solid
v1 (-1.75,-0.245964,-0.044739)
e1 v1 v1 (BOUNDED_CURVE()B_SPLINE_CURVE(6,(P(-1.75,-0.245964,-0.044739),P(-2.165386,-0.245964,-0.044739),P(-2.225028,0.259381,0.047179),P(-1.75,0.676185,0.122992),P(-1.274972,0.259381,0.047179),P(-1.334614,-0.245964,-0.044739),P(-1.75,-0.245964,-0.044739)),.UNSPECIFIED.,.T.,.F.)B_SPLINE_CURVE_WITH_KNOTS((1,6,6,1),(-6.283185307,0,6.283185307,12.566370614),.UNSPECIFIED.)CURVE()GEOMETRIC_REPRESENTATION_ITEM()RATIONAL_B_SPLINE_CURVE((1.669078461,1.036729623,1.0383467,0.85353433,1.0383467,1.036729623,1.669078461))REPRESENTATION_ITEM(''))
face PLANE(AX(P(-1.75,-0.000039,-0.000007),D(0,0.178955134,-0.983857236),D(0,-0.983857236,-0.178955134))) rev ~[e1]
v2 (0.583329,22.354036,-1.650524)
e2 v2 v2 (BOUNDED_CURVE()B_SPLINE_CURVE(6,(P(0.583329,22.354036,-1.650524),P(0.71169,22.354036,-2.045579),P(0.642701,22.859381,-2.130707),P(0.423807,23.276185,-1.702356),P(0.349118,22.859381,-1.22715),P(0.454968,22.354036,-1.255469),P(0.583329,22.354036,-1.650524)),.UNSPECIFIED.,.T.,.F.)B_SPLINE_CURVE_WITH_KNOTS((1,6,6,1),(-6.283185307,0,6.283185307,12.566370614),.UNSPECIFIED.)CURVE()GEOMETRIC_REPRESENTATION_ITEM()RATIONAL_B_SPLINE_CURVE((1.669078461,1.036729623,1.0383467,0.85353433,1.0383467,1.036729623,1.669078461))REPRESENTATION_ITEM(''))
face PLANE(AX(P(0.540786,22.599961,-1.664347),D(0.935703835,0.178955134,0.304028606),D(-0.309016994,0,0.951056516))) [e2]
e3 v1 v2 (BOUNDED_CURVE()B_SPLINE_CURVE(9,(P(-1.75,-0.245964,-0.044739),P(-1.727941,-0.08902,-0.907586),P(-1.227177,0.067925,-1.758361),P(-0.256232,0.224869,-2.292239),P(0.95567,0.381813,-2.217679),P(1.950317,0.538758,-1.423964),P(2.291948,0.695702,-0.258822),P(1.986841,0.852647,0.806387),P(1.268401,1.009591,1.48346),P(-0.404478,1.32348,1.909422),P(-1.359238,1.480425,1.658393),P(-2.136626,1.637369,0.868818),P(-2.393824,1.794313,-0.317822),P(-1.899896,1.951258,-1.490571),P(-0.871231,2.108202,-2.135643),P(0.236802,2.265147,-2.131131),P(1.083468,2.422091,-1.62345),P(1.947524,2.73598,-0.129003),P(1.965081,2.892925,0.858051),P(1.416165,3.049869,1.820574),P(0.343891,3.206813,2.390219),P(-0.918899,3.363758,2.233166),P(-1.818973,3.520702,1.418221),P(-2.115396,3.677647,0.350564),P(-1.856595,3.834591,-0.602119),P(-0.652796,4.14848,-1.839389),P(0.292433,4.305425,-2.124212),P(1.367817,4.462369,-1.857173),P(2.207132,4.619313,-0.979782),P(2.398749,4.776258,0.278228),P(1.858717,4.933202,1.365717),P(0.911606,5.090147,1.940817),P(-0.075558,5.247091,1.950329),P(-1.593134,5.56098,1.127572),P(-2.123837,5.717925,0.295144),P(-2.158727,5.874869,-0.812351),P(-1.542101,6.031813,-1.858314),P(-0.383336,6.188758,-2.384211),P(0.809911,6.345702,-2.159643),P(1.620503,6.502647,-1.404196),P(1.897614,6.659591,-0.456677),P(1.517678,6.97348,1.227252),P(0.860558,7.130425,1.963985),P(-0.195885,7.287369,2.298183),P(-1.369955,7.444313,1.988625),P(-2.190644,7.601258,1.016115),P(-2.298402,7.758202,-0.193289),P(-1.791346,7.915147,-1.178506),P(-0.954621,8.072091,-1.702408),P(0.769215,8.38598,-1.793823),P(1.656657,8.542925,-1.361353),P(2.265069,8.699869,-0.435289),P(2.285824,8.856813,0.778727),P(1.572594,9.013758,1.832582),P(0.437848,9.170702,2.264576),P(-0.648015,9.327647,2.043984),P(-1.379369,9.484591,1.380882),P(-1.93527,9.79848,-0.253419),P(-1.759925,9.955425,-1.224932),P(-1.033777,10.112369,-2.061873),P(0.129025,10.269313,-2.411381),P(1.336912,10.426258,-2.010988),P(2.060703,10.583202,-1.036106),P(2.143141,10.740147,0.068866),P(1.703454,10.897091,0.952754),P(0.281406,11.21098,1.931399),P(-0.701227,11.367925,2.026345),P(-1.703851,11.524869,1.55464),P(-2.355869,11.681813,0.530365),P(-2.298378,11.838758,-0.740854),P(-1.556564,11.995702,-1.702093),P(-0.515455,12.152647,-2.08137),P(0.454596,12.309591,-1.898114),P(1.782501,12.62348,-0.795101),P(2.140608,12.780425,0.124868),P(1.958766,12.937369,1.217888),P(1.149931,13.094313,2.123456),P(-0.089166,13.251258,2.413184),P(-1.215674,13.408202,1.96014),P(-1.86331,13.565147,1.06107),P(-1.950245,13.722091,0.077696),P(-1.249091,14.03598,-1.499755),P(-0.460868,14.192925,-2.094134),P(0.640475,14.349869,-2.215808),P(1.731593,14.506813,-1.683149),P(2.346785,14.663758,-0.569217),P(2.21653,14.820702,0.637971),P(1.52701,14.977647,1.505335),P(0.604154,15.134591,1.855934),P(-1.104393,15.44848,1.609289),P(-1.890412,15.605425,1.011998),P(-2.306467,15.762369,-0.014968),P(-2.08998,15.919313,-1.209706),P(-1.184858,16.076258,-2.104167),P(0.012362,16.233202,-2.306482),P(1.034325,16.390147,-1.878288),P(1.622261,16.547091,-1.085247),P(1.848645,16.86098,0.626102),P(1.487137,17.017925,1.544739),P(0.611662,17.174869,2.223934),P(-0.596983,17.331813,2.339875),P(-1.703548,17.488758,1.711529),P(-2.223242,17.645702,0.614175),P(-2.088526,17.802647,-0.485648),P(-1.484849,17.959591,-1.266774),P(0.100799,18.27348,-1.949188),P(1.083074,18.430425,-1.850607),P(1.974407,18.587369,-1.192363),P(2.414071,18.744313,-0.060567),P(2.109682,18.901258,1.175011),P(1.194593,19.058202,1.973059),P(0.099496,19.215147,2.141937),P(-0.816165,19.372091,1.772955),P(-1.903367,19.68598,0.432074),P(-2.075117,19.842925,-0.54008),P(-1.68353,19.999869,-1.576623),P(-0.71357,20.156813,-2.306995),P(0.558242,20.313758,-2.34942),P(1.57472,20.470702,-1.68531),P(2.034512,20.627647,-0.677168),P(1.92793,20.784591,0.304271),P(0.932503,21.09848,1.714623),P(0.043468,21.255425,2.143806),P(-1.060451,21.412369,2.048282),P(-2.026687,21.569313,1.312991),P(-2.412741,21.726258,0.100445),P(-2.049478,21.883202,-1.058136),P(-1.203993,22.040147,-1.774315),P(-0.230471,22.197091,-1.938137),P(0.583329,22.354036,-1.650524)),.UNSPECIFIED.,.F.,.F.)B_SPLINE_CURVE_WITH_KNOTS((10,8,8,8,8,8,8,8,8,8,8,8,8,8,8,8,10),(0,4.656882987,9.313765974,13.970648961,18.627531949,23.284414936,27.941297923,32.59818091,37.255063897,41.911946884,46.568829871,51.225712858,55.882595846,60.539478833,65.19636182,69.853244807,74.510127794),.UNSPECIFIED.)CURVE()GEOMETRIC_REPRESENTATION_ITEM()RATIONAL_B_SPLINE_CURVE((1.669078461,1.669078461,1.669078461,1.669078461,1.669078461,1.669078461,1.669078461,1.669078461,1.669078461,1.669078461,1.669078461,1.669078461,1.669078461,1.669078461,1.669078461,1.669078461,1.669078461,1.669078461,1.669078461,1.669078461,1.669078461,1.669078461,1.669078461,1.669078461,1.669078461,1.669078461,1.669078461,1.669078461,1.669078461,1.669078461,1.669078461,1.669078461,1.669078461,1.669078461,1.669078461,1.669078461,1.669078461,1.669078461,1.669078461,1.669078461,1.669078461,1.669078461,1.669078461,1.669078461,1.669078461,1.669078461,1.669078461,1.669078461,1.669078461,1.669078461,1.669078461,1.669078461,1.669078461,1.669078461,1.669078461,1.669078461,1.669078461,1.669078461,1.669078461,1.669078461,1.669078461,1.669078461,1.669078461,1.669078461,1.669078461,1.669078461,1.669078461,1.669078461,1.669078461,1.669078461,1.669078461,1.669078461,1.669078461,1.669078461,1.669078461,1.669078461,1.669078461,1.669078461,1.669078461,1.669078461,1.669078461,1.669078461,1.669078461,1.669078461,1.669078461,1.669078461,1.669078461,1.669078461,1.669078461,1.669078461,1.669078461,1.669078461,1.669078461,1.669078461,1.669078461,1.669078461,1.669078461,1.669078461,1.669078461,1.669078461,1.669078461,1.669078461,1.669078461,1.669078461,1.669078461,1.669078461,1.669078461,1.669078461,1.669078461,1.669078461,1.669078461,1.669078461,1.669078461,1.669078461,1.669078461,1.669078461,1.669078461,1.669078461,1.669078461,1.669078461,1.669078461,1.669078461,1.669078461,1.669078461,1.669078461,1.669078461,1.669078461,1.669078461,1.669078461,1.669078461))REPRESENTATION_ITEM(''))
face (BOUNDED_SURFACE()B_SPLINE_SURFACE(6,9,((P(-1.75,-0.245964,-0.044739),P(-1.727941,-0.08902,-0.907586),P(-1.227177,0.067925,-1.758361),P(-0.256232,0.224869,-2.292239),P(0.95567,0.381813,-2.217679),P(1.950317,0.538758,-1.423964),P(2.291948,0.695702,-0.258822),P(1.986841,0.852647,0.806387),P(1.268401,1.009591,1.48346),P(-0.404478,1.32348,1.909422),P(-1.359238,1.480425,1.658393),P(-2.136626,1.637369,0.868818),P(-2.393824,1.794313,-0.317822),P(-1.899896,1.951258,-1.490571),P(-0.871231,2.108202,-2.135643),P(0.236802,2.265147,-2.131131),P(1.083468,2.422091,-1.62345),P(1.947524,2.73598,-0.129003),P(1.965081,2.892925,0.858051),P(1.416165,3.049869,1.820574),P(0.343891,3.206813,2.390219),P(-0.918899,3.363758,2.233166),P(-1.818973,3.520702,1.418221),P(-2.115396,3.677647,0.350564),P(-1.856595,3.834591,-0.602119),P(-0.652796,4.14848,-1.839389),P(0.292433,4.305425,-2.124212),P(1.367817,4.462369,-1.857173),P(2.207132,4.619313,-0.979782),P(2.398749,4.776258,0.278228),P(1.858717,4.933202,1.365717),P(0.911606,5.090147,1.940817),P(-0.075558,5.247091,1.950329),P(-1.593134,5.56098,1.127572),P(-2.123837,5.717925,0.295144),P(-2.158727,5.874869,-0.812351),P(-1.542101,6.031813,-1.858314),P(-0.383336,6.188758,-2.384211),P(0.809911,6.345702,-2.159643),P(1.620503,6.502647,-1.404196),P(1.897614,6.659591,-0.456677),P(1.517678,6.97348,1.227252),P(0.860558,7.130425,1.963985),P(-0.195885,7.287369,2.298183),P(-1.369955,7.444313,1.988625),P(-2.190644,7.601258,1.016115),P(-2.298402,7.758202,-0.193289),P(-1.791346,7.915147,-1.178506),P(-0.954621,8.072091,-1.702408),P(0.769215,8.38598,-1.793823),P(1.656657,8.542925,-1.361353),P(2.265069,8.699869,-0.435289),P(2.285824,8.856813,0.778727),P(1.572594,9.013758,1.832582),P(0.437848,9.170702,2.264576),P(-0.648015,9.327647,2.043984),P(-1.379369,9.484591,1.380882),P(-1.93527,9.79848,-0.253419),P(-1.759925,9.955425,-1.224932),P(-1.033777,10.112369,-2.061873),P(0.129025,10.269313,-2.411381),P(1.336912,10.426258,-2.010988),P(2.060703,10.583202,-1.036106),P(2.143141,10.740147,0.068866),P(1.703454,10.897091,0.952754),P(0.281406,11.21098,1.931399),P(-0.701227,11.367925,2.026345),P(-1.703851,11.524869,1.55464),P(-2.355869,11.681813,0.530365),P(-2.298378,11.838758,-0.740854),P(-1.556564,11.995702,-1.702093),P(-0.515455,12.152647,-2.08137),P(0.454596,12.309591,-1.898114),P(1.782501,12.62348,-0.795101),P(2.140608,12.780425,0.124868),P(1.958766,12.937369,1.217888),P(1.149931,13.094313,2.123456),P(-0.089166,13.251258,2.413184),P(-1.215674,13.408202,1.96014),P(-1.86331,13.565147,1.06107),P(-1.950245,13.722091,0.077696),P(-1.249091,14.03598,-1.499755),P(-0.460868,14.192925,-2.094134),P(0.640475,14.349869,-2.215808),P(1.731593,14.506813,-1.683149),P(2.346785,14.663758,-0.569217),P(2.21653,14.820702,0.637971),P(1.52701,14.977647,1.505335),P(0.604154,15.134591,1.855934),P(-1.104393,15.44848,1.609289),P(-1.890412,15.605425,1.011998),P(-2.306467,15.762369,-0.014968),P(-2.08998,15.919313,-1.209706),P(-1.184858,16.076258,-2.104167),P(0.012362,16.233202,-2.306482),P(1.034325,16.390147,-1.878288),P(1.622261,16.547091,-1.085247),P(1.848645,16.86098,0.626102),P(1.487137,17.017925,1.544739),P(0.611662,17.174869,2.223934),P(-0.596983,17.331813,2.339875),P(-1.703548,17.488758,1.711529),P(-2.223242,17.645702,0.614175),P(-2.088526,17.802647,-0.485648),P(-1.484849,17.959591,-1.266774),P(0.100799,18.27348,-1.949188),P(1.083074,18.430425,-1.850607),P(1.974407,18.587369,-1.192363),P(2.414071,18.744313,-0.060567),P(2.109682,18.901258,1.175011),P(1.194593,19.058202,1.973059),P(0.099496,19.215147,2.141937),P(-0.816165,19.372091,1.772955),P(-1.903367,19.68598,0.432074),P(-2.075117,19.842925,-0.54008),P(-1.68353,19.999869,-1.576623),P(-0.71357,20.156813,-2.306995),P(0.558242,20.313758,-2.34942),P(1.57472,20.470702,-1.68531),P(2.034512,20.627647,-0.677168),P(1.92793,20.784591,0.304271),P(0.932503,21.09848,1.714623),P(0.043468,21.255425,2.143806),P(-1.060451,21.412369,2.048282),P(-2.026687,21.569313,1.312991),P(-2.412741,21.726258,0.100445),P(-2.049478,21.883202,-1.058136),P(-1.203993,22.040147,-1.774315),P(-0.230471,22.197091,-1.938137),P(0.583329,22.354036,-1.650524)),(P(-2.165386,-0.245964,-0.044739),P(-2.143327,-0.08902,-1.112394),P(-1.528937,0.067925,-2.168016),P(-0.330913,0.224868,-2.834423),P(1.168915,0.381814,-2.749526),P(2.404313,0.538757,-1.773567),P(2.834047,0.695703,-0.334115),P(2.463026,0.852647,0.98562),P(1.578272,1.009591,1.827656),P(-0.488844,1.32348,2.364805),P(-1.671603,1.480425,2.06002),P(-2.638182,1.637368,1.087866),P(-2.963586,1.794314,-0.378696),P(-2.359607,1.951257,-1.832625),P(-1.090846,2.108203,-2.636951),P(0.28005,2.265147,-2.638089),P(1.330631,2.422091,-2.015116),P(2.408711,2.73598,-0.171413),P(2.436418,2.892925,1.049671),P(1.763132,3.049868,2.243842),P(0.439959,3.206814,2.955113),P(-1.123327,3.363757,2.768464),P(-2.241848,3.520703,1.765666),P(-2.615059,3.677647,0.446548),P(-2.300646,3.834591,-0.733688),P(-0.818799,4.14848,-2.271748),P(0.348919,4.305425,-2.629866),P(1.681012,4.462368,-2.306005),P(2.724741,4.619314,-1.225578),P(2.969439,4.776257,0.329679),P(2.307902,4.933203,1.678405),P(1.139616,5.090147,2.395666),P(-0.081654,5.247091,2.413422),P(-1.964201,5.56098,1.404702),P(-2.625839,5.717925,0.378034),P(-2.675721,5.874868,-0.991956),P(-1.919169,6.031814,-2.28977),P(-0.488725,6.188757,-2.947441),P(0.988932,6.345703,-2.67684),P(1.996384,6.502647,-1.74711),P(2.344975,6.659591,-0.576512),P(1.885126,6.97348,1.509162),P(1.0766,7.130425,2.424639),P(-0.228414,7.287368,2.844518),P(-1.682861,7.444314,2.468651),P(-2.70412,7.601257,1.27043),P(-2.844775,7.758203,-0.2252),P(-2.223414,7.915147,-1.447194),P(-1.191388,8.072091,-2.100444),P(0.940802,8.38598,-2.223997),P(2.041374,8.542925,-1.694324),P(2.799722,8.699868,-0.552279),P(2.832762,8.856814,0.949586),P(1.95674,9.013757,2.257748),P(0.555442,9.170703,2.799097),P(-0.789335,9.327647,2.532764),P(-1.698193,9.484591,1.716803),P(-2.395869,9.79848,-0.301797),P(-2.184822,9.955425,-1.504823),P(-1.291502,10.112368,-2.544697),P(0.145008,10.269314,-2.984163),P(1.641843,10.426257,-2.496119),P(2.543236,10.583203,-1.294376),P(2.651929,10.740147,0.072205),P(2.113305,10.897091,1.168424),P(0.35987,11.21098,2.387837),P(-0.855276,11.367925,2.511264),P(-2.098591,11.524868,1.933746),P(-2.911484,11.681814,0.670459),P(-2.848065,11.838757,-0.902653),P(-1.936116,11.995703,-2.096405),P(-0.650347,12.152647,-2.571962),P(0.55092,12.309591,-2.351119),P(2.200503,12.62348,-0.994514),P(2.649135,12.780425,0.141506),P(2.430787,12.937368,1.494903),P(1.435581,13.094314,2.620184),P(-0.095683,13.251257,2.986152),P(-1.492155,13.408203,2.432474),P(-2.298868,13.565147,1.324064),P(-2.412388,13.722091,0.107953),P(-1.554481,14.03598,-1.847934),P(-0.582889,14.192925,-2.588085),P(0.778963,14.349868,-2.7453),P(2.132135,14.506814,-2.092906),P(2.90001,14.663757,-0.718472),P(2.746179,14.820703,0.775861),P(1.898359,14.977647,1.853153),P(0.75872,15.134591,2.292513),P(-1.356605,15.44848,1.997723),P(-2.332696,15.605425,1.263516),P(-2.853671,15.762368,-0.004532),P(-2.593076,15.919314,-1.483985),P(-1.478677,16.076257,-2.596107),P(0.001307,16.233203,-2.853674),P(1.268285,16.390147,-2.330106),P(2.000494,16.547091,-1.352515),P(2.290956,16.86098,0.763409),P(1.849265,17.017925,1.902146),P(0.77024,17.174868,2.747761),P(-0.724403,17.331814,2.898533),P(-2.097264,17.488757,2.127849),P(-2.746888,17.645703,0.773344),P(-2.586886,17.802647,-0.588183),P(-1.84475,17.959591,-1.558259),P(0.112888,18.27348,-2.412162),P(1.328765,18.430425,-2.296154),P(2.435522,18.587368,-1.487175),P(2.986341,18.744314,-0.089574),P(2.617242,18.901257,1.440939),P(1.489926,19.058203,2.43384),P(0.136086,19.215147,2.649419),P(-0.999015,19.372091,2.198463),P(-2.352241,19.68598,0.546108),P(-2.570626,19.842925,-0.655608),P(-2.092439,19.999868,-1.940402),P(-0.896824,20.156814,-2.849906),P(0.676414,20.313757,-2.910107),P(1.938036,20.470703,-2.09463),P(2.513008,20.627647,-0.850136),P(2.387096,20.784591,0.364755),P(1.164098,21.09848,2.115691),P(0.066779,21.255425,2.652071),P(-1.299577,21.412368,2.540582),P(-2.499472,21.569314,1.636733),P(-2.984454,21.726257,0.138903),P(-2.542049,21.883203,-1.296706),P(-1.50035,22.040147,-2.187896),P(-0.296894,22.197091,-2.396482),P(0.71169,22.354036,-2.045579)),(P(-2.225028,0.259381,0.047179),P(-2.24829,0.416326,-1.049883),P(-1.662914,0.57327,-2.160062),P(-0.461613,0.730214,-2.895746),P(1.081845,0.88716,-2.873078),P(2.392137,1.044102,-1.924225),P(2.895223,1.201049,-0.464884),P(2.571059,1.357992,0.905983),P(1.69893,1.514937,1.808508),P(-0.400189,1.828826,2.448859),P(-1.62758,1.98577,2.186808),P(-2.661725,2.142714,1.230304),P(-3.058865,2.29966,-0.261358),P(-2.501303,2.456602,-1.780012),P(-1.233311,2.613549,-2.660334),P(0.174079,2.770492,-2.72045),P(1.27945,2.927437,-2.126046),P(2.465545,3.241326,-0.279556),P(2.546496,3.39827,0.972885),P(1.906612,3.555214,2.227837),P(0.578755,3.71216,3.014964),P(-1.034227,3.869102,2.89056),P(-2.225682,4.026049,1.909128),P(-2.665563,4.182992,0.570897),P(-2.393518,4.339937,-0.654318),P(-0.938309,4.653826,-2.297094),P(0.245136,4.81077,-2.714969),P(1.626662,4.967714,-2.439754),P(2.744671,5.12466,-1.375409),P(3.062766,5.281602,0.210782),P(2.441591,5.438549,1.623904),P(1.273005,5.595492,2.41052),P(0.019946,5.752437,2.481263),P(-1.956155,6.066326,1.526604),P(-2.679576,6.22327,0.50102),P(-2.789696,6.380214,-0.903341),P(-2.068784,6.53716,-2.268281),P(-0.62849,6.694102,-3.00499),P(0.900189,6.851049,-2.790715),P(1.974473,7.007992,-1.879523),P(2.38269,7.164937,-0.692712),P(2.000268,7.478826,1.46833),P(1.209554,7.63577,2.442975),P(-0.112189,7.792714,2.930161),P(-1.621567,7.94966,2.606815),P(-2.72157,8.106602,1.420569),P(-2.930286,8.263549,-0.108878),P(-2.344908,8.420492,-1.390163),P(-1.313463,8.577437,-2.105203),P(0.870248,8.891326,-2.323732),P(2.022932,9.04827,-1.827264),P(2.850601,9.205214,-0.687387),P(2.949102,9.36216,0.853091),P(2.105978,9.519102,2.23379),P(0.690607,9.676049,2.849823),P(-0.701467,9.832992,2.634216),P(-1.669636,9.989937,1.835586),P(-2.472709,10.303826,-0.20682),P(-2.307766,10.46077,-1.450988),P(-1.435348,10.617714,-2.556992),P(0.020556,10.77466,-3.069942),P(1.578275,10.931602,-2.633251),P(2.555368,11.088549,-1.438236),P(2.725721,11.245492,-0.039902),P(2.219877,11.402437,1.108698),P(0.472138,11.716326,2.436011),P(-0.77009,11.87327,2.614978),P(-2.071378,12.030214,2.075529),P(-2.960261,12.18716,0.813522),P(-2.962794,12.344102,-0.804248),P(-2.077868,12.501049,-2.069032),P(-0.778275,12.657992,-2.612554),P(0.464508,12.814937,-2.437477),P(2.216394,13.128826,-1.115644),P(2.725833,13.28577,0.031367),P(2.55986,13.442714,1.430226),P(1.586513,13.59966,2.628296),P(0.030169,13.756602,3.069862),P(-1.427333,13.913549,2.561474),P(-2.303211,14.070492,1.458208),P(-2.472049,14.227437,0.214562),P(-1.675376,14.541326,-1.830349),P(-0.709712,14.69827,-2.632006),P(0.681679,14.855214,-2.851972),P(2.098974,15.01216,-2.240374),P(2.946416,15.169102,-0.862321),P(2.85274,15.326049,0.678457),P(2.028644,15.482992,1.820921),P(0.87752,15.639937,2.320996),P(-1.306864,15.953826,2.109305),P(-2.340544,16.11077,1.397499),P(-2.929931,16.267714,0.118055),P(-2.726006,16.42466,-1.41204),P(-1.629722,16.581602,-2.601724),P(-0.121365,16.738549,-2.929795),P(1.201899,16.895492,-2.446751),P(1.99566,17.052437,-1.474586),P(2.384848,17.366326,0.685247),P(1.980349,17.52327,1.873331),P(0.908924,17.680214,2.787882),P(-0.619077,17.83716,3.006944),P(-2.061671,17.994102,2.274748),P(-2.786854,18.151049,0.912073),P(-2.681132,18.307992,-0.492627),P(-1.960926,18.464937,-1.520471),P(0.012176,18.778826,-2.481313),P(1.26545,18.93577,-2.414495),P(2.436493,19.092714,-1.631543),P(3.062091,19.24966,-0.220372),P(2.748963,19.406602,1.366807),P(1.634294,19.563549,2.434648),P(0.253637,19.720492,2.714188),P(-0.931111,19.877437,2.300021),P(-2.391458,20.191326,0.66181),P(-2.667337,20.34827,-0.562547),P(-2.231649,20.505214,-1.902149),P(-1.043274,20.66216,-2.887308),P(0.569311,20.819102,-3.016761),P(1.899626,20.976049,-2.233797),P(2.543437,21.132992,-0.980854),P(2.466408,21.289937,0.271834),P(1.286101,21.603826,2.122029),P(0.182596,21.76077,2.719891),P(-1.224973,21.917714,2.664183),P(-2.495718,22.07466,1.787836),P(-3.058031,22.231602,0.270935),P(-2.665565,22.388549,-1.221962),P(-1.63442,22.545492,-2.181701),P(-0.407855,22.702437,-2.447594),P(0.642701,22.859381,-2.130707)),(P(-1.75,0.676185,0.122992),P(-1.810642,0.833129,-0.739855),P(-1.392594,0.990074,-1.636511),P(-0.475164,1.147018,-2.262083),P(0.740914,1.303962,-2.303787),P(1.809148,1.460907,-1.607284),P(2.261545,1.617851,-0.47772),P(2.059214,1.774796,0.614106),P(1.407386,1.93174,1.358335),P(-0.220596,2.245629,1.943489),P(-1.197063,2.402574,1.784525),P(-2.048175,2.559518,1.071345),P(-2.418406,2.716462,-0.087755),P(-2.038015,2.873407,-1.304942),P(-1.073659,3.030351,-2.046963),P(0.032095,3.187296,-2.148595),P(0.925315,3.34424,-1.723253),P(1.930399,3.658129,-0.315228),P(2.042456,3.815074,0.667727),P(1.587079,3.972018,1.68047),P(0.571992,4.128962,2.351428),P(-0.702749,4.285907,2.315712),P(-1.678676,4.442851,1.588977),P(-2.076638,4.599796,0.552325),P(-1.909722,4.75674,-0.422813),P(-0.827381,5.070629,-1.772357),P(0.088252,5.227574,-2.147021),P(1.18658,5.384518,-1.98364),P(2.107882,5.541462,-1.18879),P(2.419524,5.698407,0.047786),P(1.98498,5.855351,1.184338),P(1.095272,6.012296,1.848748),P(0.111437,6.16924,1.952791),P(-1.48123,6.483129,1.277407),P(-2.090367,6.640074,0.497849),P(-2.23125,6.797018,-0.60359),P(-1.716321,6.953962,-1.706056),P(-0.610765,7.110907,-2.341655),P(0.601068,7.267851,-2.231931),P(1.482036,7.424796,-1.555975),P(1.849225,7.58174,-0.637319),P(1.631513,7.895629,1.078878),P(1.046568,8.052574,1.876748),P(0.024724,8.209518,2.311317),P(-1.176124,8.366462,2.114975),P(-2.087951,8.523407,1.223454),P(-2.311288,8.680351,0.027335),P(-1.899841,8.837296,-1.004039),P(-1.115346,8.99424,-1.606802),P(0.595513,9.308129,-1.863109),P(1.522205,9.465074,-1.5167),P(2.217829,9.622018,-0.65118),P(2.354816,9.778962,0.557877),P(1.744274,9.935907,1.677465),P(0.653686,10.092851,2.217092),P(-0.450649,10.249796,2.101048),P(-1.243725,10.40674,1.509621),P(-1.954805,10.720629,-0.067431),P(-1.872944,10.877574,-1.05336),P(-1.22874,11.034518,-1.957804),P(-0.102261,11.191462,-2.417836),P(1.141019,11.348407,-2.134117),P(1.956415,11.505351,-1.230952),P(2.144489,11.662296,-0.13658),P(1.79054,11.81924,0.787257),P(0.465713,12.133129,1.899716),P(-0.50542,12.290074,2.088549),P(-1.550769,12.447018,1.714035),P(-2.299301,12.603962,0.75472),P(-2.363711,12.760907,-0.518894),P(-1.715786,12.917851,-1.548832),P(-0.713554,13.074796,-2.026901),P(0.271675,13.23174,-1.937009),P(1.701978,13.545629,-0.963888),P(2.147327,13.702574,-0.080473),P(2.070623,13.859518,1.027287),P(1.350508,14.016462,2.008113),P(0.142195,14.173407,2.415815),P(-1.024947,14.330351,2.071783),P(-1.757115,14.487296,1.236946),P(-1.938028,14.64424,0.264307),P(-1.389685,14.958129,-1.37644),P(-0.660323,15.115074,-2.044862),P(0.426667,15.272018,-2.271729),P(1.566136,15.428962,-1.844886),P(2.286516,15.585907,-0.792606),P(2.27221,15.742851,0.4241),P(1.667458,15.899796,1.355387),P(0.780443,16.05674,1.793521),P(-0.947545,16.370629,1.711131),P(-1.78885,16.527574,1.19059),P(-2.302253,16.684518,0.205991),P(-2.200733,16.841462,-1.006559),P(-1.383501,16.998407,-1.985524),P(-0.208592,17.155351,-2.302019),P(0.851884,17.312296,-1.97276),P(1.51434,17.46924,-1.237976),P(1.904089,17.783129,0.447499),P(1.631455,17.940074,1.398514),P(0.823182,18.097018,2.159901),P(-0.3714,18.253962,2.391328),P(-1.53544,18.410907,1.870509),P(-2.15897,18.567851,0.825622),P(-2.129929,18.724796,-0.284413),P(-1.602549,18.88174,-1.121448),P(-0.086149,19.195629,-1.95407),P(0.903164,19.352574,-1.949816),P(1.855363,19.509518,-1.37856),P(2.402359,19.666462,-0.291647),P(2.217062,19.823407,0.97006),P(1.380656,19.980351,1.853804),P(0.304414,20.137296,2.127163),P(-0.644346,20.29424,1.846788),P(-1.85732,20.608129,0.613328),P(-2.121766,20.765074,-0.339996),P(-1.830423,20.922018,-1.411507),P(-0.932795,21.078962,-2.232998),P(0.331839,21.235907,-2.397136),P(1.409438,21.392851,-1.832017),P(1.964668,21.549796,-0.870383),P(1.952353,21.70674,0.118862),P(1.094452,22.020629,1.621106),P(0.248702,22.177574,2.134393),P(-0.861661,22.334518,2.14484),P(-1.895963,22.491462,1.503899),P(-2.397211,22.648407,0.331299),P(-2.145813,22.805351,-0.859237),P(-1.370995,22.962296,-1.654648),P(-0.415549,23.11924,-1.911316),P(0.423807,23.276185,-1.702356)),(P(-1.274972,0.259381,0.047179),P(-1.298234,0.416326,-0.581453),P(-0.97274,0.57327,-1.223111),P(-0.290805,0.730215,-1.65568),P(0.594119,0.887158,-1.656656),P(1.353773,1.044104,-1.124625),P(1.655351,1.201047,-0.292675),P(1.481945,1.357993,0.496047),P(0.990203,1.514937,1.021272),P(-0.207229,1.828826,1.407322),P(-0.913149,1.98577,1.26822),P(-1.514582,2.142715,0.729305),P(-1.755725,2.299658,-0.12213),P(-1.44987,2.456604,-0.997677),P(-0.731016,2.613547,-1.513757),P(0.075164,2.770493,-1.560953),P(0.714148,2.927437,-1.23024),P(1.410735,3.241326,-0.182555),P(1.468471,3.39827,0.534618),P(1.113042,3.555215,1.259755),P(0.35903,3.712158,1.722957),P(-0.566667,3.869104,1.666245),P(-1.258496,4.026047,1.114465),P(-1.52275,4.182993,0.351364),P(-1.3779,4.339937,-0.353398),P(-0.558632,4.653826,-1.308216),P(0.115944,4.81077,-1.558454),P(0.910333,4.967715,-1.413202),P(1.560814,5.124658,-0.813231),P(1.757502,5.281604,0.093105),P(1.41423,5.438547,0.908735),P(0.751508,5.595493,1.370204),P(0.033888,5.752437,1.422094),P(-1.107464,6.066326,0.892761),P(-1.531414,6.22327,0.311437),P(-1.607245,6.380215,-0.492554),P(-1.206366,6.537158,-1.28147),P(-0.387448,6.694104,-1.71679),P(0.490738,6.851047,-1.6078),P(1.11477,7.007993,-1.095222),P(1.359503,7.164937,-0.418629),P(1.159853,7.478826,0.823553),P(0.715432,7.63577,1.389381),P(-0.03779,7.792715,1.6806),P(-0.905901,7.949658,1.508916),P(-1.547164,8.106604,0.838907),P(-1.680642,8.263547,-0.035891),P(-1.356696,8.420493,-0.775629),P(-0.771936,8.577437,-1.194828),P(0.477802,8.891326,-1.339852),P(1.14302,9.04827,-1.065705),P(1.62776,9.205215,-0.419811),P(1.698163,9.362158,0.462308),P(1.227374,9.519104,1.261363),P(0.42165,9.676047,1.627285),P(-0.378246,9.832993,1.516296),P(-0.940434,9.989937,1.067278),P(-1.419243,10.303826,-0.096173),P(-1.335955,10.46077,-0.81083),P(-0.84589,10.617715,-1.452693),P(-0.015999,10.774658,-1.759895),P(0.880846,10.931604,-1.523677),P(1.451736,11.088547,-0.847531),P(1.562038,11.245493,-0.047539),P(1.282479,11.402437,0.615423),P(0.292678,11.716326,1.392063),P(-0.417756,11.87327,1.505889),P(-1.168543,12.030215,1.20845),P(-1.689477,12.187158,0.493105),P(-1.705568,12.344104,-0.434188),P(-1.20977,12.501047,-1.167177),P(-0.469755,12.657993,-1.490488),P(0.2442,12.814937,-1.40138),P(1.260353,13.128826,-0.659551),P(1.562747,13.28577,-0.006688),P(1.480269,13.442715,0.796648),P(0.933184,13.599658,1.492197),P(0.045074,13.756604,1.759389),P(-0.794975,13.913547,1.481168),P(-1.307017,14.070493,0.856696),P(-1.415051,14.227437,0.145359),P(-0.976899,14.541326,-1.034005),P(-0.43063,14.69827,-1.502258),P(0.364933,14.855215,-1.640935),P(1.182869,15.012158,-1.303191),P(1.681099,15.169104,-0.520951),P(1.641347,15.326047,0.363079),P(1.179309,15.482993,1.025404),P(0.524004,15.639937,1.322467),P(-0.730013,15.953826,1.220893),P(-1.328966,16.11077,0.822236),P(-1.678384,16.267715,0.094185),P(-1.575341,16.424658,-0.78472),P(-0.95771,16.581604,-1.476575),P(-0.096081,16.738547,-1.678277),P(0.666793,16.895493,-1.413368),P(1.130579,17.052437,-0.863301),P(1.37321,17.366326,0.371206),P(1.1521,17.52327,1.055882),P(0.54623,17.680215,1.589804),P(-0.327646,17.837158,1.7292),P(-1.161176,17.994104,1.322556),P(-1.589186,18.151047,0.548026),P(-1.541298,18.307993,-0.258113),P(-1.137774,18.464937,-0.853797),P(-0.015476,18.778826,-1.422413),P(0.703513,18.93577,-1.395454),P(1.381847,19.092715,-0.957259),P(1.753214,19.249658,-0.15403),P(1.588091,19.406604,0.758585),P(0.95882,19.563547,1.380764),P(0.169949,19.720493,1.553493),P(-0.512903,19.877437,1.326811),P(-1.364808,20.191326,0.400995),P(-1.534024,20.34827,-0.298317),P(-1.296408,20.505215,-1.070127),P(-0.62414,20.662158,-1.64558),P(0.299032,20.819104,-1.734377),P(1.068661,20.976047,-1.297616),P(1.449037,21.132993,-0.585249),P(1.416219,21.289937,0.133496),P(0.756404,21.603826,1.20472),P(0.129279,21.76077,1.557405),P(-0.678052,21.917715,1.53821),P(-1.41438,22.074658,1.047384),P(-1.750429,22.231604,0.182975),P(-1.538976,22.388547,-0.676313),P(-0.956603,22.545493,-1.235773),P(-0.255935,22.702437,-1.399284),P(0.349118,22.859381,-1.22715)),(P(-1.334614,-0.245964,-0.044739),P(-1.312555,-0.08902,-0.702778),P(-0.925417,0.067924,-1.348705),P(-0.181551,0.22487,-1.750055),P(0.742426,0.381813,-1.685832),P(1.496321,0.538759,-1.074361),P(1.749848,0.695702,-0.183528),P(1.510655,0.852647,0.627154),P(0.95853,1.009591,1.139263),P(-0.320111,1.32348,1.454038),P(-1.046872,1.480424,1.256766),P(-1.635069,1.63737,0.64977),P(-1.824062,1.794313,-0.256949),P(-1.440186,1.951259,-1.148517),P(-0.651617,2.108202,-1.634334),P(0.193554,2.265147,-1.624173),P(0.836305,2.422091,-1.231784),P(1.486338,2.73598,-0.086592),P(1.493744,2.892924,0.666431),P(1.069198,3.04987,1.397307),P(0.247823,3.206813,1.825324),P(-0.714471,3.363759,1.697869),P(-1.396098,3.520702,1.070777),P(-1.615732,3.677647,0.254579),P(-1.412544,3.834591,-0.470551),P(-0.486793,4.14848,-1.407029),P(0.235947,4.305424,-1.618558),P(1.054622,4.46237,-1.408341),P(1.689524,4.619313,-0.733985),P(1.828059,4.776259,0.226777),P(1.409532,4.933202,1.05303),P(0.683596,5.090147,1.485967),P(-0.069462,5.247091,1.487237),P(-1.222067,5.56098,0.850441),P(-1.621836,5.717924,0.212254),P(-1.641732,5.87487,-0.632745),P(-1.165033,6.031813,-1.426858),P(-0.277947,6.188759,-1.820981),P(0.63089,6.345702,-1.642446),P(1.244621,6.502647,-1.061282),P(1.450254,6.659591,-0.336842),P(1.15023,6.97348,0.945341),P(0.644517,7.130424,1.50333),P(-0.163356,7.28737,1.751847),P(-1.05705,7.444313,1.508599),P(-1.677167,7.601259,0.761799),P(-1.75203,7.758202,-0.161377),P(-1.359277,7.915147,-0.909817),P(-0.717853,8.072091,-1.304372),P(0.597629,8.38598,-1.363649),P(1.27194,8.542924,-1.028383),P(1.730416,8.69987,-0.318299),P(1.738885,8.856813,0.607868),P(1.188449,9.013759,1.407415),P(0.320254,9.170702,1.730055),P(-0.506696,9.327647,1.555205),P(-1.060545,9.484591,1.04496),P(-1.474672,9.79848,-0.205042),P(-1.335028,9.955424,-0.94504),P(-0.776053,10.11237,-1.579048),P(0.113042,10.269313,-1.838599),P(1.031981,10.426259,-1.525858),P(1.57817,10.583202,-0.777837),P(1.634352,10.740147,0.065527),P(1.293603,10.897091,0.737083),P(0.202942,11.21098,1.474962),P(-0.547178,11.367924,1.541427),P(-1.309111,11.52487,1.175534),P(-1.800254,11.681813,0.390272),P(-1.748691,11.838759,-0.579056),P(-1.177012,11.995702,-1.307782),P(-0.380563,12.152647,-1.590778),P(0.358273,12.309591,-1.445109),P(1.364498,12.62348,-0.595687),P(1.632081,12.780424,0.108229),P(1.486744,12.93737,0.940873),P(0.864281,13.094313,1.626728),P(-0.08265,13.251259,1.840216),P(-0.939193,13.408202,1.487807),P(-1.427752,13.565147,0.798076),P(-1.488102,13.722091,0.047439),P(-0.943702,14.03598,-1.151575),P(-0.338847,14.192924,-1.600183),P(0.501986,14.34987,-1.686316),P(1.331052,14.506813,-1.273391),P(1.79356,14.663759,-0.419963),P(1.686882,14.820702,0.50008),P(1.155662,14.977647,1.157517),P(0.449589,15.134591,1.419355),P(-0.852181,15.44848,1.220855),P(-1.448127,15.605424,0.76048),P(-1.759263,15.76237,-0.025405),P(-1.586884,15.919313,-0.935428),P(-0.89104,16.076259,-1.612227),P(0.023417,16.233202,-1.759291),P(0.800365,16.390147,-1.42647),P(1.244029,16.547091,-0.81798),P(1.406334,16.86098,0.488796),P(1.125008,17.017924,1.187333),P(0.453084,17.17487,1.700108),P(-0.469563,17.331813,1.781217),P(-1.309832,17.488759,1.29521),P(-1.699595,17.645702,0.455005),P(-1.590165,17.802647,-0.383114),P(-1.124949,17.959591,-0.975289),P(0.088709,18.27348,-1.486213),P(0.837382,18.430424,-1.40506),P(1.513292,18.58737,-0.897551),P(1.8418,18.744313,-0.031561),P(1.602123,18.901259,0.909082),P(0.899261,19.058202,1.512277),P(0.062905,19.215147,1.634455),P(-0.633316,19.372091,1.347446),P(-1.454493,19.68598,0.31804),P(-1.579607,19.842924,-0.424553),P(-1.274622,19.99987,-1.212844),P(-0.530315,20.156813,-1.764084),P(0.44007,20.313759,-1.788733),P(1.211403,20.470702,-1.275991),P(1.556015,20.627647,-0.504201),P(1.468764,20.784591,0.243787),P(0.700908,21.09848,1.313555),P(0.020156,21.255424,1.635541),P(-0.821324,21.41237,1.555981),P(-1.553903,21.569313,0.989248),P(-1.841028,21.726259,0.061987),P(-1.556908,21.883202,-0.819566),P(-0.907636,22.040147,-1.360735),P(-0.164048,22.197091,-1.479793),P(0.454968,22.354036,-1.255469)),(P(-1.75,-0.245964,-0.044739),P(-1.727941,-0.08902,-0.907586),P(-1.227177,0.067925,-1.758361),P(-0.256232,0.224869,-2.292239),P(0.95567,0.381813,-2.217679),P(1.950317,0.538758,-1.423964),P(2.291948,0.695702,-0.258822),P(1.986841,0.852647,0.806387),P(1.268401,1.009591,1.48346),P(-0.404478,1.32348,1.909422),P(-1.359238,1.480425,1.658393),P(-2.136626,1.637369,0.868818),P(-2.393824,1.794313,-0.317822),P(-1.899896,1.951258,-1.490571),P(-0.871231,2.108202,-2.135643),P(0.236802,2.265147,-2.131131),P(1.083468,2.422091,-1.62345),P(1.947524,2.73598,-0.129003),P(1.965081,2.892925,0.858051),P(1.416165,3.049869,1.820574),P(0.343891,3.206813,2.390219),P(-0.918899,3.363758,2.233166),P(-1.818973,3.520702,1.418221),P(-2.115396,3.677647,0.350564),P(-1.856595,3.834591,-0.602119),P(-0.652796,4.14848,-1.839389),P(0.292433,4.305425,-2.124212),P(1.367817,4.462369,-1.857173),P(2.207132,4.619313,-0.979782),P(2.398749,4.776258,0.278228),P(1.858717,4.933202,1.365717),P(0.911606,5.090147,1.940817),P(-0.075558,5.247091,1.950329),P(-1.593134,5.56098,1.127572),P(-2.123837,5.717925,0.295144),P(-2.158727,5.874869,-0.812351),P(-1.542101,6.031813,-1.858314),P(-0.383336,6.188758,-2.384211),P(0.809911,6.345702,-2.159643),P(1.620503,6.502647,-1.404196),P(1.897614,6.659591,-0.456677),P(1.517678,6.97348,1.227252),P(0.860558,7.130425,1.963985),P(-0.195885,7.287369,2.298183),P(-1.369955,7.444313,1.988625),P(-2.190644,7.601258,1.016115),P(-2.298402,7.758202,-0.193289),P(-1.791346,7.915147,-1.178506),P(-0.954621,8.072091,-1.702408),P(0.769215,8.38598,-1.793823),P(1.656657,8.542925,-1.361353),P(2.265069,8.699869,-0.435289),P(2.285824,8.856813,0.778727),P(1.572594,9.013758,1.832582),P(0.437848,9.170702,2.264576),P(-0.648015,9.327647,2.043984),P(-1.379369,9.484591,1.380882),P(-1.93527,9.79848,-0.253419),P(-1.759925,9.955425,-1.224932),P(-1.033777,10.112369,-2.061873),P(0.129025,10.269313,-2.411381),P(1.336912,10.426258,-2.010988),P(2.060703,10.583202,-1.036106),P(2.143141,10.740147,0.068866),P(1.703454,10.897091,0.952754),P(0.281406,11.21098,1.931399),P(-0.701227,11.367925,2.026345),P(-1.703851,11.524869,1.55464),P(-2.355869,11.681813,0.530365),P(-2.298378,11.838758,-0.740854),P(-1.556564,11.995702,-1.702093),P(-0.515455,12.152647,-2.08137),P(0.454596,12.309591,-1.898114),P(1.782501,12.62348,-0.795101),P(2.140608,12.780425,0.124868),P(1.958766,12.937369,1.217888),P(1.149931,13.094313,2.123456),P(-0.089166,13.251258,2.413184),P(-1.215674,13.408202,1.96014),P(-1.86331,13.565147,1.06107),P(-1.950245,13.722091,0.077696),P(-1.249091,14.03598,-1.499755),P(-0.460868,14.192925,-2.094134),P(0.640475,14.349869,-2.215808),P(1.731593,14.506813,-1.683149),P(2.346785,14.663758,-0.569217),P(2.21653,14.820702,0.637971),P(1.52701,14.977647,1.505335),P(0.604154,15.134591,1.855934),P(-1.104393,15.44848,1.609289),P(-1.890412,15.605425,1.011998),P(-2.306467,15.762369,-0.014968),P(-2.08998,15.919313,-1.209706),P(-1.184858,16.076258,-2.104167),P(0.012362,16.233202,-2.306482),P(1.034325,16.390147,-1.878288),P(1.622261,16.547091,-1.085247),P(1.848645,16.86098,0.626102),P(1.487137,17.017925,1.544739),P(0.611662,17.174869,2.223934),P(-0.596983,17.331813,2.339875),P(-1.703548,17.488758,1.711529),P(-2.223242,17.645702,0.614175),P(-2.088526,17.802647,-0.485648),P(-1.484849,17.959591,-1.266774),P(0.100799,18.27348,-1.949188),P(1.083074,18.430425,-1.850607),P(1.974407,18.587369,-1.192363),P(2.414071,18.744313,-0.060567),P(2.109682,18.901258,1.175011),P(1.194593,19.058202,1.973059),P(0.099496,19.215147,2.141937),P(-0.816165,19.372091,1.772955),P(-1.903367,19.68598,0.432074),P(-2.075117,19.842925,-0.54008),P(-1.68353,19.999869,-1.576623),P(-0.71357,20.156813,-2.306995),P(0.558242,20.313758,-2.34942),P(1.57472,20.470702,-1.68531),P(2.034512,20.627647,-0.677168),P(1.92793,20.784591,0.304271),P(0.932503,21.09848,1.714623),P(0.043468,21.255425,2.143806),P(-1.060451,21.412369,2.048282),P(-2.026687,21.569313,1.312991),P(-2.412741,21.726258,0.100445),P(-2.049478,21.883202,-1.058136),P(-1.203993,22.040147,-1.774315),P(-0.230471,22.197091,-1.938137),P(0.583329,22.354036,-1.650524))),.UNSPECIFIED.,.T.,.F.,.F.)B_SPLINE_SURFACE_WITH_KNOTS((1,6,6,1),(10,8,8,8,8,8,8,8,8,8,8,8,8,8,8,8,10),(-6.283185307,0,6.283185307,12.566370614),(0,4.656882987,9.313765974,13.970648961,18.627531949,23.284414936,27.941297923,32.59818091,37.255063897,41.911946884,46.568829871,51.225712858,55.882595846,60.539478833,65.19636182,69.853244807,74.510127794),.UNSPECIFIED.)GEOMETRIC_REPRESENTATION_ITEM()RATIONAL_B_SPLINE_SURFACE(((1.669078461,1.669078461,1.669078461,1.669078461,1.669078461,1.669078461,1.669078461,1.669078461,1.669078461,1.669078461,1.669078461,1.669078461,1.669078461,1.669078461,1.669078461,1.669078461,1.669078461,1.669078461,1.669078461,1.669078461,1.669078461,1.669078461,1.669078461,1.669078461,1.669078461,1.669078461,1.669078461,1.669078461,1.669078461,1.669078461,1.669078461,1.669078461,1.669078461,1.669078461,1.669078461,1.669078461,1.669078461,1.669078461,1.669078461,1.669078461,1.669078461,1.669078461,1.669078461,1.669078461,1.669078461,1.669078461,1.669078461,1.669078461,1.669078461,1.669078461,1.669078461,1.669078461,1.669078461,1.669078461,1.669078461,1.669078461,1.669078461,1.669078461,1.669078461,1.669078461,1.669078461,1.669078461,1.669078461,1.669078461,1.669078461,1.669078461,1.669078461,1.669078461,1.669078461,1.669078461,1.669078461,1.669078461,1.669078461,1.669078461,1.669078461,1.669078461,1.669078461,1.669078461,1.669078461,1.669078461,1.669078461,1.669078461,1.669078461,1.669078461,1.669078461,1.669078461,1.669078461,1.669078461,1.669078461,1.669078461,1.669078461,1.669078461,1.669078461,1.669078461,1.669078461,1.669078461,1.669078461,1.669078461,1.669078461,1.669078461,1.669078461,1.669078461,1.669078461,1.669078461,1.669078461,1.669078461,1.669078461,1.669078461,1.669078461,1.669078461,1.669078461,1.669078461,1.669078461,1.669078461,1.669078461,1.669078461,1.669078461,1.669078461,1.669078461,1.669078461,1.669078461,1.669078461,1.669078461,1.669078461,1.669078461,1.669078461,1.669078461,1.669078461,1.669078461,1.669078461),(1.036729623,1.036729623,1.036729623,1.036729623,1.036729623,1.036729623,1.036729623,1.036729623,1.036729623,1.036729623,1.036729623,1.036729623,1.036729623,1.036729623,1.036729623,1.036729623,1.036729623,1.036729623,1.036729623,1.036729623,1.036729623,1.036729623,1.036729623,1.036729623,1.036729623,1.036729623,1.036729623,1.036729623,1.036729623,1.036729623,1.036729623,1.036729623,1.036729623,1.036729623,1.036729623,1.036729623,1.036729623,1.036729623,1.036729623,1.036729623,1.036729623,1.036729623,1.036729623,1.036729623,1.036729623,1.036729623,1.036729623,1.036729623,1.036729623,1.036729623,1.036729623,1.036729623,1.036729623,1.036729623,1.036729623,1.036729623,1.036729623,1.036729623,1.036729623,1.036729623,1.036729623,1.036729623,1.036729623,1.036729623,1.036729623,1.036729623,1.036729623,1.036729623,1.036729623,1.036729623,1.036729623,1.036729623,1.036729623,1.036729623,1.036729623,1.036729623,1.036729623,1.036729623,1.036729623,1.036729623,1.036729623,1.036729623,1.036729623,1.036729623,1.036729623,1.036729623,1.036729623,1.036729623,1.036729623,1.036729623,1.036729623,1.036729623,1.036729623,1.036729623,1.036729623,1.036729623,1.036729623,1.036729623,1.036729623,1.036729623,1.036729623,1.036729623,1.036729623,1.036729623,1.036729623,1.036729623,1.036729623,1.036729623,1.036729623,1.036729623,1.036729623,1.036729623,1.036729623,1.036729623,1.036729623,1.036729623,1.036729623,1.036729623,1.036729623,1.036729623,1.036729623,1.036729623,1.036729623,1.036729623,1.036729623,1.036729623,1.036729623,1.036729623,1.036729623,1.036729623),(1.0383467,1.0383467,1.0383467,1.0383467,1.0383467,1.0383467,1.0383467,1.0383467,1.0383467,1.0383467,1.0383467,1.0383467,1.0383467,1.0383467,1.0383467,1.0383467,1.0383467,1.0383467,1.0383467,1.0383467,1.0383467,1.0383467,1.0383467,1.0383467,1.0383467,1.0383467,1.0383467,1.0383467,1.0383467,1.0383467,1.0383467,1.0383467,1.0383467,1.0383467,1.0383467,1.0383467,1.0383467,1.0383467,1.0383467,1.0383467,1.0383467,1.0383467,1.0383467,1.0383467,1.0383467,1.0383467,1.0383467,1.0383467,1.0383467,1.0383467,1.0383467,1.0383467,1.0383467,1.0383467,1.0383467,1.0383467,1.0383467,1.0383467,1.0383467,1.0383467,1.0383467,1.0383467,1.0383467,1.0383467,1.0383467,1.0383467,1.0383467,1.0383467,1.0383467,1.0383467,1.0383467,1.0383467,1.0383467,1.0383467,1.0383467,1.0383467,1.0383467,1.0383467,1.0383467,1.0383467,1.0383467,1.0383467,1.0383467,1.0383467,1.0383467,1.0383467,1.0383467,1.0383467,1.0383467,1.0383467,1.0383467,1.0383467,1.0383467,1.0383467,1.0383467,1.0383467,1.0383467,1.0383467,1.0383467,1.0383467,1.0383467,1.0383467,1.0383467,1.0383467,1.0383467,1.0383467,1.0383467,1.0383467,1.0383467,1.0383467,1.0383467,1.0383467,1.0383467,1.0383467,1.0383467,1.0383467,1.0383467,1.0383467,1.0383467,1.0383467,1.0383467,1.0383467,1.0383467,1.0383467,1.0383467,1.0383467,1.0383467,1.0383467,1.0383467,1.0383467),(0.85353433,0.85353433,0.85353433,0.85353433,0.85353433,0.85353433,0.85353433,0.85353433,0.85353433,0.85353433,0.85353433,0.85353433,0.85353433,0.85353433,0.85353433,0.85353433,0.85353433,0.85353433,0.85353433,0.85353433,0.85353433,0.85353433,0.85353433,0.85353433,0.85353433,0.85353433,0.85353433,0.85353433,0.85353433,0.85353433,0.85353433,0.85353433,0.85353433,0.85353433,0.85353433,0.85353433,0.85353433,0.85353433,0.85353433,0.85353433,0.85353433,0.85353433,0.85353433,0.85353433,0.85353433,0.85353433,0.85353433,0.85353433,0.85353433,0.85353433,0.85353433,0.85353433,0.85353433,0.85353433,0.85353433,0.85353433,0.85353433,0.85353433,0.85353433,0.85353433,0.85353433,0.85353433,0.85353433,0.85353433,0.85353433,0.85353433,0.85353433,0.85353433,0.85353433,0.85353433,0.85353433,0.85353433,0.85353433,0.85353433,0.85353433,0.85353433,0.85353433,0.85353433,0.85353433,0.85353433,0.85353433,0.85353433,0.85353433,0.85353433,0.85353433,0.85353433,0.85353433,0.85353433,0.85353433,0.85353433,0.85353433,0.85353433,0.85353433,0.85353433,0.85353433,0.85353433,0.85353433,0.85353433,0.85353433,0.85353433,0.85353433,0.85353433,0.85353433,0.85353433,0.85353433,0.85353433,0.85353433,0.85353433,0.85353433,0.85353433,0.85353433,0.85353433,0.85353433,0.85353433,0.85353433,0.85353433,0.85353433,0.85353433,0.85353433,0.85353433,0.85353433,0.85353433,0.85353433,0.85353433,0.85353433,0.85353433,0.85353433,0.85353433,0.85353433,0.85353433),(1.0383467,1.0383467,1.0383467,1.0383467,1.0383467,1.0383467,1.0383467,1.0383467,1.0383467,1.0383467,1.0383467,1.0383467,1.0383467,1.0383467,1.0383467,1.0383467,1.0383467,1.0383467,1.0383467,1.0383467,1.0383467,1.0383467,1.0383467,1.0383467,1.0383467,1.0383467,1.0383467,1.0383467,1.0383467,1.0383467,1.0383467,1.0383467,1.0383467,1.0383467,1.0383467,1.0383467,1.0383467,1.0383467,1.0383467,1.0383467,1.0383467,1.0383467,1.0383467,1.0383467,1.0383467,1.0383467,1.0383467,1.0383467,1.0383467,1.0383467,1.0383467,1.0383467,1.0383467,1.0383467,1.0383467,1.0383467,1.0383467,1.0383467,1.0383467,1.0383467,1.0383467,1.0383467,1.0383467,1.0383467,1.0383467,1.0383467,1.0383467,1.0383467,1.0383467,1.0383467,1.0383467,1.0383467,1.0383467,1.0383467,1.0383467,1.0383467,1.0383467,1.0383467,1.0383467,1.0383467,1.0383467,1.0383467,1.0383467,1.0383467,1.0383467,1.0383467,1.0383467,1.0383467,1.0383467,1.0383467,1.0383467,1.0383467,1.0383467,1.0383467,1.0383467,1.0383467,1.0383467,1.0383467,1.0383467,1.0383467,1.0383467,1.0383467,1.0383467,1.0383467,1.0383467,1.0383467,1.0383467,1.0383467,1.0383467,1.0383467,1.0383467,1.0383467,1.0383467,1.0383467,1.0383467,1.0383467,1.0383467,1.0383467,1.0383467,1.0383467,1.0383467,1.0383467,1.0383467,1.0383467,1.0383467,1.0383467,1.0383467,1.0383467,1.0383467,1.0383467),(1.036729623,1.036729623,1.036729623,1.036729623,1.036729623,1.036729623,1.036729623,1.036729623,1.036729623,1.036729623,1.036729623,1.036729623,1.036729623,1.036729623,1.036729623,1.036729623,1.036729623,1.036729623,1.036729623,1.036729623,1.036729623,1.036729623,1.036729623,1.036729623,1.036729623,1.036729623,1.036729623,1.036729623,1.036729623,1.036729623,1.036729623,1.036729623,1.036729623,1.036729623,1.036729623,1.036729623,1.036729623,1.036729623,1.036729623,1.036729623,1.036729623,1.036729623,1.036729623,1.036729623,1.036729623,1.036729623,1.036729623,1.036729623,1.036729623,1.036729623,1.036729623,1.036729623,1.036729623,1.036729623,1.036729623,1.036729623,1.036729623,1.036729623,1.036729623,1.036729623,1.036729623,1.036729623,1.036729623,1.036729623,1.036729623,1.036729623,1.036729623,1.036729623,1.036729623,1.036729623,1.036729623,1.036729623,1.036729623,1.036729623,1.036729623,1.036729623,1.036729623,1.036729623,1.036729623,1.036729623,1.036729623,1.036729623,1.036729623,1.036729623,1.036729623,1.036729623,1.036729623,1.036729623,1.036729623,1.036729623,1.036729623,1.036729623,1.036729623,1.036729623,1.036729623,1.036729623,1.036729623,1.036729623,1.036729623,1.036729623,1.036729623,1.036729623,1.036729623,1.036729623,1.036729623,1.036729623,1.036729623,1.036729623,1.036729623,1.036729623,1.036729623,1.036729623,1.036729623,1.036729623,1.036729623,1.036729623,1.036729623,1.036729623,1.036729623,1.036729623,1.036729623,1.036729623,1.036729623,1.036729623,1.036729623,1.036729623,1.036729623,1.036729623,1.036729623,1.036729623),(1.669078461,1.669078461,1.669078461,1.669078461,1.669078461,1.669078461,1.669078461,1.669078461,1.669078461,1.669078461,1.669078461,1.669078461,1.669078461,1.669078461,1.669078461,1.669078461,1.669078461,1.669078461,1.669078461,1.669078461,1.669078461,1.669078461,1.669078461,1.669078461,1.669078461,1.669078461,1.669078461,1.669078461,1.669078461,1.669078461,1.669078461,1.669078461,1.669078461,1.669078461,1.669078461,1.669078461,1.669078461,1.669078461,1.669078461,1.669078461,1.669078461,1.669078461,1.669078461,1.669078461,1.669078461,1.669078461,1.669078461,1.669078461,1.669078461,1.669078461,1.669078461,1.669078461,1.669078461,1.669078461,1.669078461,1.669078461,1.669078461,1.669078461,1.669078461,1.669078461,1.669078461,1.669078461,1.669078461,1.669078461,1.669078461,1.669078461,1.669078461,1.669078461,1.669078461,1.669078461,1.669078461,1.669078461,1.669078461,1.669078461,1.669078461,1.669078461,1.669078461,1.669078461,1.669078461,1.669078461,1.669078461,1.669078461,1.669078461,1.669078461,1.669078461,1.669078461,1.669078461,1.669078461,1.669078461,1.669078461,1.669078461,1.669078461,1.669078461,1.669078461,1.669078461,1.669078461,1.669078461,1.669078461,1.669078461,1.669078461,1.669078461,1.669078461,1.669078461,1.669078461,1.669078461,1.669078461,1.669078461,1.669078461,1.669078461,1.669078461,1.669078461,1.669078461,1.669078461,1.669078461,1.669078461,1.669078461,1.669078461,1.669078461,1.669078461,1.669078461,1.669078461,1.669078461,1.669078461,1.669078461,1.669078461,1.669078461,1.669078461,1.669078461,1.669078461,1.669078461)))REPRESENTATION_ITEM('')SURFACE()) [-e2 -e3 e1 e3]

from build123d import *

# Parameters (mm, degrees)
SWEEP1_PITCH       = 2
SWEEP1_HEIGHT      = 22.6
SWEEP1_RADIUS      = 1.75
SWEEP1_START_ANGLE = -90
SWEEP1_PROFILE_R   = 0.25


with BuildPart() as part:
    # Sweep1: sweep along a helix
    with BuildLine() as sweep1_path:
        add(Helix(SWEEP1_PITCH, SWEEP1_HEIGHT, SWEEP1_RADIUS, center=(0, 0, 0), direction=(0, 1, 0), lefthand=True, mode=Mode.PRIVATE).rotate(Axis((0, 0, 0), (0, 1, 0)), SWEEP1_START_ANGLE))
    # Sweep1 profile (on start of the path) → Sweep1 (sweep)
    with BuildSketch(Plane(origin=(-1.75, 0, 0), x_dir=(0, -0.983857236, -0.178955134), z_dir=(0, 0.178955134, -0.983857236))):
        Circle(SWEEP1_PROFILE_R)
    sweep(path=sweep1_path.line, is_frenet=True)


solid = part.part
